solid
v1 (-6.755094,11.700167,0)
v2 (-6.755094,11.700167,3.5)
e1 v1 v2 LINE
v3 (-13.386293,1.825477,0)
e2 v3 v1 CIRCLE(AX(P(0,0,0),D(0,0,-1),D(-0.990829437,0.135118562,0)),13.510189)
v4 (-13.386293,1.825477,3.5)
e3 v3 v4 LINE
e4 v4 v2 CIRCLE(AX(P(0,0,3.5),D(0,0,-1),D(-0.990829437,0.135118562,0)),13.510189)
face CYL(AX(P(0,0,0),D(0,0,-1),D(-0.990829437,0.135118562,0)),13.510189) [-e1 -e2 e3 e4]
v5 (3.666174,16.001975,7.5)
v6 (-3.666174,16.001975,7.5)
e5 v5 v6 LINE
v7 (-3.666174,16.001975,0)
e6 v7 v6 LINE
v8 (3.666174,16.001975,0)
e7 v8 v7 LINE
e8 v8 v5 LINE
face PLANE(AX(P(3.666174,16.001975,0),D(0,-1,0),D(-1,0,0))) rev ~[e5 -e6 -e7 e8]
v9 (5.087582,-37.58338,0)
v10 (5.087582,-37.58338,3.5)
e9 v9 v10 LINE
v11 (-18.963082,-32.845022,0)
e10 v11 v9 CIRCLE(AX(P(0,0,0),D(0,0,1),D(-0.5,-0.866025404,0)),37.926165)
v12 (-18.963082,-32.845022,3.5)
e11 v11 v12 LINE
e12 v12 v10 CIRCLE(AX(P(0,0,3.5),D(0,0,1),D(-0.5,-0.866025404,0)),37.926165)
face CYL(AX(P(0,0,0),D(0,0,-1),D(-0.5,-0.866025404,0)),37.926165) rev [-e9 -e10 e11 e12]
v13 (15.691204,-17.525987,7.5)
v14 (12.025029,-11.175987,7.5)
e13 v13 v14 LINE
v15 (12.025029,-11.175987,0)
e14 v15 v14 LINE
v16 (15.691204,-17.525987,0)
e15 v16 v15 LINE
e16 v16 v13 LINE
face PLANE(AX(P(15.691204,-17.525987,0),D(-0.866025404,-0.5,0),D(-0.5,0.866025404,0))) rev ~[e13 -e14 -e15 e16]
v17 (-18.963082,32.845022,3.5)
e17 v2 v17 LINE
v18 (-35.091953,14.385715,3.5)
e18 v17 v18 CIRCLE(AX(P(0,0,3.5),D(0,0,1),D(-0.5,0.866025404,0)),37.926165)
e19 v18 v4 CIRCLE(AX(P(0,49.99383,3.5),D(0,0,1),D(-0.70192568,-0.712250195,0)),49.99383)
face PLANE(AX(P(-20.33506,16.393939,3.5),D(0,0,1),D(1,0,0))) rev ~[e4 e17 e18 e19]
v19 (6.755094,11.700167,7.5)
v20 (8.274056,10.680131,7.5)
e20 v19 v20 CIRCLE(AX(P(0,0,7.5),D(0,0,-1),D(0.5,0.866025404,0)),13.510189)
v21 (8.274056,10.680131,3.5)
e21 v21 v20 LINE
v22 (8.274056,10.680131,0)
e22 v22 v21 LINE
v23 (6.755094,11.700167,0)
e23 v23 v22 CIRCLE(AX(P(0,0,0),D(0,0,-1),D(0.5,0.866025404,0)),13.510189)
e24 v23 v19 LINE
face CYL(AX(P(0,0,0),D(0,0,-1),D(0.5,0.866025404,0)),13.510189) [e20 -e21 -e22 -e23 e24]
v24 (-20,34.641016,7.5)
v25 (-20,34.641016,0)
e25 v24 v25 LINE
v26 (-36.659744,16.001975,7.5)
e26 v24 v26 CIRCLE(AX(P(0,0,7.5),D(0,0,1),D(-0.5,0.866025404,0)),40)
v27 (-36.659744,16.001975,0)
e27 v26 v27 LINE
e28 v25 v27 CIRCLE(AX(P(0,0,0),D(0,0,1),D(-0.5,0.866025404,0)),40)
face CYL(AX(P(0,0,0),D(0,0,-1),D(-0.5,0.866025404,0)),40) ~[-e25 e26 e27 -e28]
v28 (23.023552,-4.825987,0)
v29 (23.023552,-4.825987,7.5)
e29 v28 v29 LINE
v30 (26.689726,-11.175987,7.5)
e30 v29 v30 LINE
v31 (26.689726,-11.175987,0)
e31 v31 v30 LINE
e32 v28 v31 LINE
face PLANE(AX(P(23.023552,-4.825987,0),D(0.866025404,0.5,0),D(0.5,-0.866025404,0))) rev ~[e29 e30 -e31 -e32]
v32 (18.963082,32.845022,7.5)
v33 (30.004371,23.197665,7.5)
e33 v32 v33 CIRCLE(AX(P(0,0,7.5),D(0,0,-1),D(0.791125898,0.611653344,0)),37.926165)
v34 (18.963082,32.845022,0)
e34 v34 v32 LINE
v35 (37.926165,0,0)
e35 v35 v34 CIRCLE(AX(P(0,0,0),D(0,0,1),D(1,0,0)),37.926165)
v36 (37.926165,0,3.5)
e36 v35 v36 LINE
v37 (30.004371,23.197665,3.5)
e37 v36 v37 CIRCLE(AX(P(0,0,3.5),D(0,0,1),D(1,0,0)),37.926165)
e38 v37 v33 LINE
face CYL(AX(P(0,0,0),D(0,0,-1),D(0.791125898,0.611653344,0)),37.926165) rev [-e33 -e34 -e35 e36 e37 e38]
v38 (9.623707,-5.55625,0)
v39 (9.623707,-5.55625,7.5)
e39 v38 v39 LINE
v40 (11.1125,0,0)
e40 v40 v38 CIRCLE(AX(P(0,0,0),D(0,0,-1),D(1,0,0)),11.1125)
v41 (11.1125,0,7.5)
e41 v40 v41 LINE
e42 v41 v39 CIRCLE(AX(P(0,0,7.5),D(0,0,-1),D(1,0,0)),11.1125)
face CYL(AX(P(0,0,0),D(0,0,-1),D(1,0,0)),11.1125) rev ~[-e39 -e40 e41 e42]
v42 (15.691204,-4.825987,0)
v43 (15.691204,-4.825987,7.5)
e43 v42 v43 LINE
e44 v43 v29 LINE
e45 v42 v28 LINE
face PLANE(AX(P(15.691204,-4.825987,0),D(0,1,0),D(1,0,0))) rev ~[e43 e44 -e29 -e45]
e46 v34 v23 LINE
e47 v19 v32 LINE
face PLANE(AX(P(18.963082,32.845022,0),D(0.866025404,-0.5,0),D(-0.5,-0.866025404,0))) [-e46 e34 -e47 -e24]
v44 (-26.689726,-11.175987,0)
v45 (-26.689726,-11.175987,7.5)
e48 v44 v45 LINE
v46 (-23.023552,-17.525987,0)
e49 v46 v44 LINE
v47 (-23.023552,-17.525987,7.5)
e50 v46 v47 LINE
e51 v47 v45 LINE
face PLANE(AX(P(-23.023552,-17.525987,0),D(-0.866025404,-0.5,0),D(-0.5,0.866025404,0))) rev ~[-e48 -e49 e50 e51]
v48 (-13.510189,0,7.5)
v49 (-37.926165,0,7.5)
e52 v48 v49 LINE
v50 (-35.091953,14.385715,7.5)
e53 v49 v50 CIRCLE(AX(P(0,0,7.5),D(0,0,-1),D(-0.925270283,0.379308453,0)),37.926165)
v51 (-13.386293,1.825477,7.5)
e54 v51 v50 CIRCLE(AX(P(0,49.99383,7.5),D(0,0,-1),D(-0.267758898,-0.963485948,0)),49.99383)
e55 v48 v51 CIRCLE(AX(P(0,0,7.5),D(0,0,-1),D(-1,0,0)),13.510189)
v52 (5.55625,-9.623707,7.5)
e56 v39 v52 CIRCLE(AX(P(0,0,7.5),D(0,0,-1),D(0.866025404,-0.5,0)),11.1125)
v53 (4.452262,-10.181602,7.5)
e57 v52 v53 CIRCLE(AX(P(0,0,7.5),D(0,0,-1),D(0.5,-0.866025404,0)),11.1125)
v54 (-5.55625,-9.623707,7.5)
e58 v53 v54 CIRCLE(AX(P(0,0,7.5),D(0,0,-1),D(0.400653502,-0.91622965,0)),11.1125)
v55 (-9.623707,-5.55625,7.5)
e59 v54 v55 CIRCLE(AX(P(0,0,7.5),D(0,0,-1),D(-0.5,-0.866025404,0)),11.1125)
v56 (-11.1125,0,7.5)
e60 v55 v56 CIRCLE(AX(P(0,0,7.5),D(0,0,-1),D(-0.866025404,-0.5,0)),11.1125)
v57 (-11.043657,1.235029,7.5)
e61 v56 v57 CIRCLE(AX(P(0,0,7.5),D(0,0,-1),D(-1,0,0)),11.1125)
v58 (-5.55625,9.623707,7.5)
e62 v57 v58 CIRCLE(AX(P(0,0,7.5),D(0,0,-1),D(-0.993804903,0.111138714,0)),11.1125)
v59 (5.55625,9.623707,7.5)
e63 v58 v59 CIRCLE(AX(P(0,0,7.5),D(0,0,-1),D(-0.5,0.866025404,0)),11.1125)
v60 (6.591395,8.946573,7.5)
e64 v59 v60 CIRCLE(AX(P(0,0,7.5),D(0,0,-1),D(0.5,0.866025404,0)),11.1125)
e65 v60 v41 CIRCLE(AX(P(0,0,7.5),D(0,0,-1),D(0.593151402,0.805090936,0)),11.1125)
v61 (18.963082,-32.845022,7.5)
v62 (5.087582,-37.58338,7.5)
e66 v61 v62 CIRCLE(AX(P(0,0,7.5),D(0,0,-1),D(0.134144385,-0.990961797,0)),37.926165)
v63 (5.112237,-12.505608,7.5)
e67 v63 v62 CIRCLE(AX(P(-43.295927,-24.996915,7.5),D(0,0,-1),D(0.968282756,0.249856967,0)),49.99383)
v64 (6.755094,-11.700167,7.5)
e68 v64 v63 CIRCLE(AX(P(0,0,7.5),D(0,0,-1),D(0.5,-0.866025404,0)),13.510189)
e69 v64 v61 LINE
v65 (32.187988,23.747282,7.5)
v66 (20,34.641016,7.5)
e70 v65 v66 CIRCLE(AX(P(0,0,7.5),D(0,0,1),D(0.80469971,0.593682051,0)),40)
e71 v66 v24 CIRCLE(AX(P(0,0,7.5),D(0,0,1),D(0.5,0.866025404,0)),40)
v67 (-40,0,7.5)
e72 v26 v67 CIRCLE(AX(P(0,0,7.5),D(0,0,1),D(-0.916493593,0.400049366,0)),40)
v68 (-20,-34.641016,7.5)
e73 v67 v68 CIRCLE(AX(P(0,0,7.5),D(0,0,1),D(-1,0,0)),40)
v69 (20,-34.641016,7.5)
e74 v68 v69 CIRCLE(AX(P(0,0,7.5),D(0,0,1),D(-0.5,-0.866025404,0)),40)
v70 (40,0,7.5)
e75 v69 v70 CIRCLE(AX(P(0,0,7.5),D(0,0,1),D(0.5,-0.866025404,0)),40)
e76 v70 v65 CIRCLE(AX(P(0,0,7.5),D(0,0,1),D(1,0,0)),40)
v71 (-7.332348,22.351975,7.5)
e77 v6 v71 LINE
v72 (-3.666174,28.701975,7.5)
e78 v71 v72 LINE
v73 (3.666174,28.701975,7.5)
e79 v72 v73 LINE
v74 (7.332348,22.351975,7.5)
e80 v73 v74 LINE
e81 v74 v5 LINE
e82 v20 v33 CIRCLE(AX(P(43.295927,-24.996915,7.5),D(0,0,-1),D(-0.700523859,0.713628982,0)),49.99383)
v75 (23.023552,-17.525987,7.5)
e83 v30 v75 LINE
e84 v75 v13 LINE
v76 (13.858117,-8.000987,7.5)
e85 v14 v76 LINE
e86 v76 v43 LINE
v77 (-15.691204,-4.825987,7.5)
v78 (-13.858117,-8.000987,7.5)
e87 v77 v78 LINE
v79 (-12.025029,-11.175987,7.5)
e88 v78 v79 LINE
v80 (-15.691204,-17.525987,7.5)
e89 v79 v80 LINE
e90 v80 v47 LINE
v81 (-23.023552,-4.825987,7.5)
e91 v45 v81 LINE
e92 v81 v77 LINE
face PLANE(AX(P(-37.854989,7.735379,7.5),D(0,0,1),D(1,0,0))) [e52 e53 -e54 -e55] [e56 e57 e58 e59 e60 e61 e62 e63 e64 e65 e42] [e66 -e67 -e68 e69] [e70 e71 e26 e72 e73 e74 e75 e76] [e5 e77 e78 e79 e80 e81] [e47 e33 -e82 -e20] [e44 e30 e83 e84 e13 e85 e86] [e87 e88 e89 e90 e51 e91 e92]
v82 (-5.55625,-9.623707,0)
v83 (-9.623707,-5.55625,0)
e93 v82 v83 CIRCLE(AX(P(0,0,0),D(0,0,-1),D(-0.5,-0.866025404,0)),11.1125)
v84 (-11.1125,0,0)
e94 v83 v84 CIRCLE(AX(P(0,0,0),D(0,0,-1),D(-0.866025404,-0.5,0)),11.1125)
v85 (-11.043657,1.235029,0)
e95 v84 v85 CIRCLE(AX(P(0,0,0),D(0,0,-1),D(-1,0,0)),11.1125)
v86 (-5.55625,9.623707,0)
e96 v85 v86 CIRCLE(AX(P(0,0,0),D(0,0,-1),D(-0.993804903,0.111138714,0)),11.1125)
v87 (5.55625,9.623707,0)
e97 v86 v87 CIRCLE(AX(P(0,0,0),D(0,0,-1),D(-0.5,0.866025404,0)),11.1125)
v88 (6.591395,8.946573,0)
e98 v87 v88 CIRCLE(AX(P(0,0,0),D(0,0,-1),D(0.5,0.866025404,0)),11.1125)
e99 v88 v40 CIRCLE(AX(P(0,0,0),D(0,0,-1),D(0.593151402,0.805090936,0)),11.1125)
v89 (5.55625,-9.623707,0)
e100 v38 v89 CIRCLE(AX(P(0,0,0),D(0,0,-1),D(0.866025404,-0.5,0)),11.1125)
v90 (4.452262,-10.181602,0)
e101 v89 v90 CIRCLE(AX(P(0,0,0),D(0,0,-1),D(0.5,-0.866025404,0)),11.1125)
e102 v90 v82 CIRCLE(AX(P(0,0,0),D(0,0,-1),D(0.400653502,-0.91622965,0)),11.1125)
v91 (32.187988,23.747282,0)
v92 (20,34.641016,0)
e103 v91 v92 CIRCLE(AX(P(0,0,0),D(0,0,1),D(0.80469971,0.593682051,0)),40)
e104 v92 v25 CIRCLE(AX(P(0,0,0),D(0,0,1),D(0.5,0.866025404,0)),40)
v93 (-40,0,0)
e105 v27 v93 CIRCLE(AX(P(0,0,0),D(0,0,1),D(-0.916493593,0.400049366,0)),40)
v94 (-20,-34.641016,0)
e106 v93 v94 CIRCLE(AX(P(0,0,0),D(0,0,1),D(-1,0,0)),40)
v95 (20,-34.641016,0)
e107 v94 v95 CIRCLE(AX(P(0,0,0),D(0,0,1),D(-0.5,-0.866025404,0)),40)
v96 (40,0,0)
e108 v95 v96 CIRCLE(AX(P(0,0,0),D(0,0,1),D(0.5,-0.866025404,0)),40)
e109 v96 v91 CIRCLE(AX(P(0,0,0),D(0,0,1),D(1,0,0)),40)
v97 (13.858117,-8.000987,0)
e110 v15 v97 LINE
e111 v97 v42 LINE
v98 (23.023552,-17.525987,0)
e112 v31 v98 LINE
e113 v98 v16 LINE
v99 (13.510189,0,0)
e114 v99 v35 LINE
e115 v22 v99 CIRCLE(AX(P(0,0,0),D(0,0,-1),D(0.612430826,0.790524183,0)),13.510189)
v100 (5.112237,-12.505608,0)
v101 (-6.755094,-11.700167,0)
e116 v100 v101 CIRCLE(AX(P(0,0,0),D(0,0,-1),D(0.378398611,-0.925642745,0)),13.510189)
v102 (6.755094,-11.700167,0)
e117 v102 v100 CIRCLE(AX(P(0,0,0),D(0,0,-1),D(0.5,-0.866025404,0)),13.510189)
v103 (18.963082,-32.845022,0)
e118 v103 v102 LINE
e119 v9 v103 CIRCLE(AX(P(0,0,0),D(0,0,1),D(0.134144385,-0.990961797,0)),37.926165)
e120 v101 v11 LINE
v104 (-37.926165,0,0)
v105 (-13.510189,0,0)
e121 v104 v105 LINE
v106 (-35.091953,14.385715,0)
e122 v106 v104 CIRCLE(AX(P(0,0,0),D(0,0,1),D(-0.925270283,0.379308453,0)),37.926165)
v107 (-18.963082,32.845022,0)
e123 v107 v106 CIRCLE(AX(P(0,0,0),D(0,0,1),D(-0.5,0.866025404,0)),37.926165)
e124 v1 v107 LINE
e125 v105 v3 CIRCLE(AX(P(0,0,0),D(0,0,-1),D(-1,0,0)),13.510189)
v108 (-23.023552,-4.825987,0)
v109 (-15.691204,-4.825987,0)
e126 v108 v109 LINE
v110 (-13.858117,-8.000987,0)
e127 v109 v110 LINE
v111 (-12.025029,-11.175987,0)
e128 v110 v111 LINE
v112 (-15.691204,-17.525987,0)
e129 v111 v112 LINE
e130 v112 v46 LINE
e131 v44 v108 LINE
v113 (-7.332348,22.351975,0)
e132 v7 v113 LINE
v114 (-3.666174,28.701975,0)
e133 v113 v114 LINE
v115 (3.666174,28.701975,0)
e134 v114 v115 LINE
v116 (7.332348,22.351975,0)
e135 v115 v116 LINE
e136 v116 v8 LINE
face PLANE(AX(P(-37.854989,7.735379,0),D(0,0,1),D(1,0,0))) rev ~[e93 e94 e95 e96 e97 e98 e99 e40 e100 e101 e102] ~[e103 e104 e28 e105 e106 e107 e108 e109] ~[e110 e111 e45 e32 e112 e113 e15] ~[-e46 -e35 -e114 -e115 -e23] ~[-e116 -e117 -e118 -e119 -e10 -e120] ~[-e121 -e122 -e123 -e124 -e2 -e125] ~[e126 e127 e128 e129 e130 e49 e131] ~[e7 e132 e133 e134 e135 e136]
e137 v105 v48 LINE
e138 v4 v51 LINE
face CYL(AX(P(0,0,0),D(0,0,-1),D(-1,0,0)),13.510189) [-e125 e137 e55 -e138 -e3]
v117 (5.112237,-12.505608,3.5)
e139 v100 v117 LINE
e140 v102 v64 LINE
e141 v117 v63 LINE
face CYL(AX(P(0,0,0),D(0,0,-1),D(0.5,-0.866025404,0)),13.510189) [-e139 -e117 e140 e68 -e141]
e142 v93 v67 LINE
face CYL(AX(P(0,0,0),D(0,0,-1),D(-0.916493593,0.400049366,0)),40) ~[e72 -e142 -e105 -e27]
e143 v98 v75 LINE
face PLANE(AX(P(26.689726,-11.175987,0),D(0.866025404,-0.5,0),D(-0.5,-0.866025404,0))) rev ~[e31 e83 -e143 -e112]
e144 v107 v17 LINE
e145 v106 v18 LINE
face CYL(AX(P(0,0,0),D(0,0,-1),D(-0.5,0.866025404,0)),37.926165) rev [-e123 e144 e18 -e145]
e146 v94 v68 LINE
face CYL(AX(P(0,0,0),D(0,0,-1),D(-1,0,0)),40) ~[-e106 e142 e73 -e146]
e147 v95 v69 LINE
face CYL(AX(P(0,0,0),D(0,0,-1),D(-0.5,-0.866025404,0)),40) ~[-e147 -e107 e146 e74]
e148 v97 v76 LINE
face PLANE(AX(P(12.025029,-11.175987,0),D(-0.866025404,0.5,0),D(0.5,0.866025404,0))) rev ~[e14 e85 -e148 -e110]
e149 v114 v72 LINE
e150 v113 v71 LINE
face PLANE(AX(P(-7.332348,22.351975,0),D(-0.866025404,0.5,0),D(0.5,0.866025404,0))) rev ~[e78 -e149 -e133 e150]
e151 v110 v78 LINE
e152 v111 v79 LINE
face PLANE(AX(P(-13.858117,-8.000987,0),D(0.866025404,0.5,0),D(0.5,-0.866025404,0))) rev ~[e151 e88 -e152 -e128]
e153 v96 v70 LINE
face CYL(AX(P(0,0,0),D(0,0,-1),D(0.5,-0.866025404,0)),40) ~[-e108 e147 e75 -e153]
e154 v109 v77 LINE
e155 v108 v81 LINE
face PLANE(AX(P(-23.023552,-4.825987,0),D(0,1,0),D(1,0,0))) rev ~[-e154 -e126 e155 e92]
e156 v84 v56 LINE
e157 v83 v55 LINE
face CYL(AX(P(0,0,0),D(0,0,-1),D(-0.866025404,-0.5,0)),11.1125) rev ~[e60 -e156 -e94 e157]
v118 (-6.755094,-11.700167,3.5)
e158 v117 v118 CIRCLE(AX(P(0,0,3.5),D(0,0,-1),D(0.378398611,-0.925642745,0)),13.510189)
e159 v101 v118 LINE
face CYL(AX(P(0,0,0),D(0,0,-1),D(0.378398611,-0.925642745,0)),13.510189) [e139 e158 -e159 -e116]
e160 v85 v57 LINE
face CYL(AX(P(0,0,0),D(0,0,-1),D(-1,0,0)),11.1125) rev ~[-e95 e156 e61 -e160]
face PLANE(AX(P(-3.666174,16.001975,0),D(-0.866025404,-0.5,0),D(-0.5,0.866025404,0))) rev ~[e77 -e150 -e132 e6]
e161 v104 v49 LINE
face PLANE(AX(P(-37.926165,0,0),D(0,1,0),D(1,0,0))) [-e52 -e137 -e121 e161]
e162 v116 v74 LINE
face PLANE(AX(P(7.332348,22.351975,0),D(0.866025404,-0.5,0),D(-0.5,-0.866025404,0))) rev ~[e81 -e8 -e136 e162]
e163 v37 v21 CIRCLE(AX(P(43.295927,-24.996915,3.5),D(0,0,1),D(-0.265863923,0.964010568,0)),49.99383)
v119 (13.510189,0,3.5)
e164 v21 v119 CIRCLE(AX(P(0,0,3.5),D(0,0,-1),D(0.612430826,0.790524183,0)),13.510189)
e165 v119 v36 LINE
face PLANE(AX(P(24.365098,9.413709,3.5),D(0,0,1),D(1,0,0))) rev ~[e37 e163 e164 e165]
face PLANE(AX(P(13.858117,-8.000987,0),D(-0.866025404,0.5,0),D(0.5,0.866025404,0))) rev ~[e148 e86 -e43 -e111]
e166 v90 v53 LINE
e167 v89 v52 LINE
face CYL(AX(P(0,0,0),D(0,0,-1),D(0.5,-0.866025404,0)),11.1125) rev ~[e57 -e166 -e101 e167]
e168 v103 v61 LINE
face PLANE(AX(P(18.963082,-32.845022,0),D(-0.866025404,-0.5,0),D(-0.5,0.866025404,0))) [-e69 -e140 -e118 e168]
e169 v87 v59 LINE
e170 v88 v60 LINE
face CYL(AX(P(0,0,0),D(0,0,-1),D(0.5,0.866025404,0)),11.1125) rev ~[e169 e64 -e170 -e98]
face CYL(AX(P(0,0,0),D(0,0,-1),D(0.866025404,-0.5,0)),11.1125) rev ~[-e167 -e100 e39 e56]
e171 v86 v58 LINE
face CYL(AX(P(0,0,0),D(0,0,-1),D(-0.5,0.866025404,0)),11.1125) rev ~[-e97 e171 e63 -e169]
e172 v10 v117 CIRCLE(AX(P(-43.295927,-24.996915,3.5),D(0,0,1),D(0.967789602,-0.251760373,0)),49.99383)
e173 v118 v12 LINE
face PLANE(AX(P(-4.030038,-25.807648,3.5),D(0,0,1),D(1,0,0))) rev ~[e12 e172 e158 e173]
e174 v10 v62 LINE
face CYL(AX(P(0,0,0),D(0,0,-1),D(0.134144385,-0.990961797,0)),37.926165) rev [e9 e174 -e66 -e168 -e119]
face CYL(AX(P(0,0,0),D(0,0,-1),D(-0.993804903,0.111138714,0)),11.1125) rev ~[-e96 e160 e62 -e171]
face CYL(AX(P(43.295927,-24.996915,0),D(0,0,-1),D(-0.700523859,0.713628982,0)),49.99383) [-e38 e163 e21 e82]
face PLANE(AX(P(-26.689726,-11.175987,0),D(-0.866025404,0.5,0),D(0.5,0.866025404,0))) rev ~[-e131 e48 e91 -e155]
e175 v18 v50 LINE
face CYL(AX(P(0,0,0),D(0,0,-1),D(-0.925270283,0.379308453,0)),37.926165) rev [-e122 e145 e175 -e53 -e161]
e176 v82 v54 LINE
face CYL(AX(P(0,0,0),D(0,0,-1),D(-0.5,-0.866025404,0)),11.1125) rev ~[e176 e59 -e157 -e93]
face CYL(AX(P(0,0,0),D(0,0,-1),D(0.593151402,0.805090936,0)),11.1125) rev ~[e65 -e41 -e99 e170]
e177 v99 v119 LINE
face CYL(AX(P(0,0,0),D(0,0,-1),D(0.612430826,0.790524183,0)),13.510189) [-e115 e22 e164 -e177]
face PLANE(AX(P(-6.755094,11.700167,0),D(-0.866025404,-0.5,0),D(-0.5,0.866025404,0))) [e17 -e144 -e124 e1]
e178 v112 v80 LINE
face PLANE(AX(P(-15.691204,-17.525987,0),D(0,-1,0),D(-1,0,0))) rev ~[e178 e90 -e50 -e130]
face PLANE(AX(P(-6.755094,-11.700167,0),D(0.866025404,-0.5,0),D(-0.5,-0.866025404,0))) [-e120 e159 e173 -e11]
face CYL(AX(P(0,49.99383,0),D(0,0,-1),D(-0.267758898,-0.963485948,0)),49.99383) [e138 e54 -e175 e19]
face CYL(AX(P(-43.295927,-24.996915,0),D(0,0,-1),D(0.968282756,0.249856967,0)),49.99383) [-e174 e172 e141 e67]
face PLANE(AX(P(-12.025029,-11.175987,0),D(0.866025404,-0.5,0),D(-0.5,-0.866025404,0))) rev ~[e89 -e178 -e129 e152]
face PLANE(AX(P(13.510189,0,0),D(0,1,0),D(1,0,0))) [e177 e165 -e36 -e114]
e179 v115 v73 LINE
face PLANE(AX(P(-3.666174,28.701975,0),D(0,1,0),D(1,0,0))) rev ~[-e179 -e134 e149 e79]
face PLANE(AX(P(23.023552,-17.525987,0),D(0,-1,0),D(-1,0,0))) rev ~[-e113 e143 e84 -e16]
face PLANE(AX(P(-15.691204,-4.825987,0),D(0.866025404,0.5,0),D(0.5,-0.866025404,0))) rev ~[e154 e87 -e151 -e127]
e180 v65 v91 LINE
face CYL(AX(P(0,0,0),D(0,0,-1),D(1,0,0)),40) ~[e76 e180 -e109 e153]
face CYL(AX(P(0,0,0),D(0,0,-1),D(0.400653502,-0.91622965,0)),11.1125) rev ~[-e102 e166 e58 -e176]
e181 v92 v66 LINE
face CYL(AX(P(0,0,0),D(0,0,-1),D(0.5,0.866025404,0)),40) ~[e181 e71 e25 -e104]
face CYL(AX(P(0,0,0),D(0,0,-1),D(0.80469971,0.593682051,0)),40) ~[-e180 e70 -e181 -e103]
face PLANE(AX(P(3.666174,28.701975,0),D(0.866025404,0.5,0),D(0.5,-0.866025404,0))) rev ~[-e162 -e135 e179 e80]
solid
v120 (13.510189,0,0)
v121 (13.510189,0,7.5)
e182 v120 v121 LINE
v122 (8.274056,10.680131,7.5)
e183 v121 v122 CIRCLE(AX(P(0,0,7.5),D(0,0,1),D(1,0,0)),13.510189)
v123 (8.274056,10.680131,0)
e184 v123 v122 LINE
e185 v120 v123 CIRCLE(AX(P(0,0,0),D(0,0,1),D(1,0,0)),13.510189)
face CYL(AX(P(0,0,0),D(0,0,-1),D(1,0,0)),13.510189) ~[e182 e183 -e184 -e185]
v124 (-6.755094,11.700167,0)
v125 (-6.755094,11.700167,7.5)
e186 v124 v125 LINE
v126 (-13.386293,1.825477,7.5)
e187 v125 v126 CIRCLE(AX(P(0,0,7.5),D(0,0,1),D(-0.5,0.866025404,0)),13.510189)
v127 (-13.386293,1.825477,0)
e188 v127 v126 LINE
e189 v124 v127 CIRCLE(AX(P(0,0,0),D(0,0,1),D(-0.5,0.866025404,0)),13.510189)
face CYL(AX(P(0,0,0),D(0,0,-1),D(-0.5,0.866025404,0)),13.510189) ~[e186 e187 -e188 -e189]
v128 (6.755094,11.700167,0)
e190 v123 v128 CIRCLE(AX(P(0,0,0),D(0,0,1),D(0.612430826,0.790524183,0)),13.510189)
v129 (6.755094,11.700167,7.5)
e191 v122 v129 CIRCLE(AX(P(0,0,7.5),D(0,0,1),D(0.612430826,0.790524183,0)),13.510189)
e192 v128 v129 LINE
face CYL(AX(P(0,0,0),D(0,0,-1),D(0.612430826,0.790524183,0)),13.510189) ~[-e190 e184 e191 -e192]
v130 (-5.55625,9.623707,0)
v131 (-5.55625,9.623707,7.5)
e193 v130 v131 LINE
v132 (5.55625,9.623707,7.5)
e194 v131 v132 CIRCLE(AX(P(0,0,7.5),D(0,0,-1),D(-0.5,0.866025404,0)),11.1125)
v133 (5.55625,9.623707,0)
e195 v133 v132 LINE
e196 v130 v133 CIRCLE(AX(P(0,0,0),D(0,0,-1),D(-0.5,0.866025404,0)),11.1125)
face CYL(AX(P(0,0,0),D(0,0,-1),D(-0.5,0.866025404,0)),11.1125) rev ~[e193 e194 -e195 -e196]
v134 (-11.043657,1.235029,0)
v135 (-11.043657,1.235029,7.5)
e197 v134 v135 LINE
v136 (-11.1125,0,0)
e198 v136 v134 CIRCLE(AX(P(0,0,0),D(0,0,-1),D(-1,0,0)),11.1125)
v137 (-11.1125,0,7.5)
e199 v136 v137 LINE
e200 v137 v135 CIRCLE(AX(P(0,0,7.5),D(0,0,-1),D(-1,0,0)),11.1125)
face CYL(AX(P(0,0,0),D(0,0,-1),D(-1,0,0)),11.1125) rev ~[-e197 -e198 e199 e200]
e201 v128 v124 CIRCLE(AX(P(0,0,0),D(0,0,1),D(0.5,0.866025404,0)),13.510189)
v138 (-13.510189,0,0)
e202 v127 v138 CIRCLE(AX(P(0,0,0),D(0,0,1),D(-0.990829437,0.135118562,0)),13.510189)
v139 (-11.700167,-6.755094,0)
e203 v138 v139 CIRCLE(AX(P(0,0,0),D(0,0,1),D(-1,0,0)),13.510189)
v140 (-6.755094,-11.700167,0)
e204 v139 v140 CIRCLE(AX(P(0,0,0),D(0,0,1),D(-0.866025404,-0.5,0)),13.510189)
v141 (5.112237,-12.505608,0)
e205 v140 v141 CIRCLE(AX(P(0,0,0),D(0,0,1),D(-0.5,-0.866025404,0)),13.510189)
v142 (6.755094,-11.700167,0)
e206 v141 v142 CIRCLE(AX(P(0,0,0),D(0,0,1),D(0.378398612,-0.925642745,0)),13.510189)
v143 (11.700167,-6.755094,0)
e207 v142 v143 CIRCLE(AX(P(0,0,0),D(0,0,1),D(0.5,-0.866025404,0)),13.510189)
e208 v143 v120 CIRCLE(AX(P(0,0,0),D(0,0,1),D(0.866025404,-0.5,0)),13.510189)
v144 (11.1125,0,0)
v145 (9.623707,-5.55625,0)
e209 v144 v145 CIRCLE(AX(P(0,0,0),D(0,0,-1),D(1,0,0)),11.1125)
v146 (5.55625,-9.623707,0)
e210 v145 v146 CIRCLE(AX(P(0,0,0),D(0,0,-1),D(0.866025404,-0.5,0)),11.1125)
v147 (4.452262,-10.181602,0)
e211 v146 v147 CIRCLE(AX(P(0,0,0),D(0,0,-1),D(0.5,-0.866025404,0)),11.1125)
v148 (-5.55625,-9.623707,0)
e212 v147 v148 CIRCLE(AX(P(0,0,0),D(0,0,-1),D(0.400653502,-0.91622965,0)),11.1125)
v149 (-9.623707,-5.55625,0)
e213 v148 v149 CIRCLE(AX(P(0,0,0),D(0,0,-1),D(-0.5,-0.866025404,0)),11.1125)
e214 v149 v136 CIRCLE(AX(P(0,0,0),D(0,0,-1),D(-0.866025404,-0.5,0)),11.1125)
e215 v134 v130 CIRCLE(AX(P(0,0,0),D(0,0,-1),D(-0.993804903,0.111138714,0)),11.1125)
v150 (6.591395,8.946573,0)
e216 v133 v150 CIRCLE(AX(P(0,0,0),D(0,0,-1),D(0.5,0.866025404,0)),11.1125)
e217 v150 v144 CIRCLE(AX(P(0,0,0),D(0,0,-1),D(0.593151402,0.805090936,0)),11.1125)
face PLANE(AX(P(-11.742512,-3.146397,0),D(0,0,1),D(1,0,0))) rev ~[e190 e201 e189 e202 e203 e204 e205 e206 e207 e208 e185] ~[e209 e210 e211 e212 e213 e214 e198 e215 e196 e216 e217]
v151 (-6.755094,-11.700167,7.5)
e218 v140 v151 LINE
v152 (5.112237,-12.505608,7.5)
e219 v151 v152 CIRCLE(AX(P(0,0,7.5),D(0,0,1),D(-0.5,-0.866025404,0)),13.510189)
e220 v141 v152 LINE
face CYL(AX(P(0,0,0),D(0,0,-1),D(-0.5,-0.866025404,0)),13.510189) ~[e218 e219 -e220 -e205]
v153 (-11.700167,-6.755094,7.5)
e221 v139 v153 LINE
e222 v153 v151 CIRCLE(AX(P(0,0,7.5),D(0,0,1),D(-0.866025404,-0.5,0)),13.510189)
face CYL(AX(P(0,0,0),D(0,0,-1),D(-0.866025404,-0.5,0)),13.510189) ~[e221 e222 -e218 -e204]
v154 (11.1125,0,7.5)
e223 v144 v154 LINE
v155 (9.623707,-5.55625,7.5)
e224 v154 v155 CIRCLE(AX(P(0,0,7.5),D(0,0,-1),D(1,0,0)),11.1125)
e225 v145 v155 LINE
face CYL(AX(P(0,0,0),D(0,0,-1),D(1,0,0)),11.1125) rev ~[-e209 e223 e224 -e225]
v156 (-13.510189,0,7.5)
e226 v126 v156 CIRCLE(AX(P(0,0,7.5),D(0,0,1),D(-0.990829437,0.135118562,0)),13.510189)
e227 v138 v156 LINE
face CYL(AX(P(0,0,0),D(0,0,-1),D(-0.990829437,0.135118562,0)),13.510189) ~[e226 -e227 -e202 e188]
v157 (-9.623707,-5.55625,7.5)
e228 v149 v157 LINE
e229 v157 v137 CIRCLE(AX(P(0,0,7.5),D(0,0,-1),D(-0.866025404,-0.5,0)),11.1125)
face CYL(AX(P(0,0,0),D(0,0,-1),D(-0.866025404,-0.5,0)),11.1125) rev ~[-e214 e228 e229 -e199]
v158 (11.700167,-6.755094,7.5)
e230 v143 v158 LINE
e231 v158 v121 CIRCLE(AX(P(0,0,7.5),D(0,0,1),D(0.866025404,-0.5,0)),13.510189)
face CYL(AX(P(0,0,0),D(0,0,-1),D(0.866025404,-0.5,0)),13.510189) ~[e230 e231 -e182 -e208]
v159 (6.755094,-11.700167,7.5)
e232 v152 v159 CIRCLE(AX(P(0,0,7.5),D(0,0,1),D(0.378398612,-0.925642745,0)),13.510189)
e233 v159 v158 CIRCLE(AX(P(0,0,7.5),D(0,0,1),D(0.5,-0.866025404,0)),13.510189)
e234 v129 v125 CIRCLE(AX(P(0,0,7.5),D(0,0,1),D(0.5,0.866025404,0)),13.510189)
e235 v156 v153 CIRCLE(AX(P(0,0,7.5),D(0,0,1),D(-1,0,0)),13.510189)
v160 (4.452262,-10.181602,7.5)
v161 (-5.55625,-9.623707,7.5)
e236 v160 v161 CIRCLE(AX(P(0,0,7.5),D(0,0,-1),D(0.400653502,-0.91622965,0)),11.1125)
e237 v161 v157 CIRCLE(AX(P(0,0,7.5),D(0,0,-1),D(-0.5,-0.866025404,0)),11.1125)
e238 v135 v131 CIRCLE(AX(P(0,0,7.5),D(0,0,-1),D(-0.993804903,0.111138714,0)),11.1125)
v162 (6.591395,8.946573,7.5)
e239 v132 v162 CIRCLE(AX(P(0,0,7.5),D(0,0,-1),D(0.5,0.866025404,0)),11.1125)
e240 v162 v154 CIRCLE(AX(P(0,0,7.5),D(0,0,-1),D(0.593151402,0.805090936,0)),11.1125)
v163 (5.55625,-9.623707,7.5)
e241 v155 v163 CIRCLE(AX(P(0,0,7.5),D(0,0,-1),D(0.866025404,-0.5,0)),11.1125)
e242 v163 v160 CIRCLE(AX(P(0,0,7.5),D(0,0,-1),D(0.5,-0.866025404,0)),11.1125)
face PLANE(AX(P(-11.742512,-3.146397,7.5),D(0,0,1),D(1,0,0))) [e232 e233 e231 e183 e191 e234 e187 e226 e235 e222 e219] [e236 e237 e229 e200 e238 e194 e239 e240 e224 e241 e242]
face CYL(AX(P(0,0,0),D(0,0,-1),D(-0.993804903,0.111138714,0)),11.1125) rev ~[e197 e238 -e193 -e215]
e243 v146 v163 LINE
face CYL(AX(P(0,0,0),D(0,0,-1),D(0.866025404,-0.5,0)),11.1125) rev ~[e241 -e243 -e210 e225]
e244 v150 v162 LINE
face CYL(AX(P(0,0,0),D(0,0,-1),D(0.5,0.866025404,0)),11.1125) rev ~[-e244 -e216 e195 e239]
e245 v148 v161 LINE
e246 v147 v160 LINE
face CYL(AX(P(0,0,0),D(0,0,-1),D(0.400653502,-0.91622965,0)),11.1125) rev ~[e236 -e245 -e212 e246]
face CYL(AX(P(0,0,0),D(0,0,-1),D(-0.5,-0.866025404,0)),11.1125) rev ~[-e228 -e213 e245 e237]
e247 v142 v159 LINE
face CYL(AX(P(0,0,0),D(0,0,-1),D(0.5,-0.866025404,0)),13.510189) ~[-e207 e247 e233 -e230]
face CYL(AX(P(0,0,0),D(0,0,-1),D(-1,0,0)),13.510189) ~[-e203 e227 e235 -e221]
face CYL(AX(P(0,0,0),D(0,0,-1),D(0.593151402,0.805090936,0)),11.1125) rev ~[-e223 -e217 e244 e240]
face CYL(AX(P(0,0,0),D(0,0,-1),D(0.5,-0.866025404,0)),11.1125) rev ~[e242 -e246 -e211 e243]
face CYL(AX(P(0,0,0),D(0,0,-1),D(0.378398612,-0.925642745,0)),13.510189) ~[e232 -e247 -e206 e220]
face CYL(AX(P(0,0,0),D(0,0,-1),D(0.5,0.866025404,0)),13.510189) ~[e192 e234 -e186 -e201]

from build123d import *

# Parameters (mm, degrees)
F1_DEPTH = 7.5
F2_DEPTH = 3.25
F3_DEPTH = 25
F4_DEPTH = 7.5
F5_DEPTH = 7.5
F6_DEPTH = 25
F7_DEPTH = 3.5


with BuildPart() as f1:
    # F0 (on Top) → F1 (new body)
    with BuildSketch(Plane.XY):
        with BuildLine():
            Line((37.9261646969, 0), (40, 0))
            ThreePointArc((40, 0), (37.9968389168, 12.4996092872), (32.1879883833, 23.7472820305))
            ThreePointArc((32.1879883833, 23.7472820305), (31.0930850061, 23.4847690882), (30.0043711026, 23.1976654721))
            ThreePointArc((30.0043711026, 23.1976654721), (35.8911179032, 12.2564931476), (37.9261646969, 0))
        make_face()
        with BuildLine():
            ThreePointArc((20, -34.6410161514), (34.6410161514, -20), (40, 0))
            Line((40, 0), (37.9261646969, 0))
            ThreePointArc((37.9261646969, 0), (32.8450220956, -18.9630823485), (18.9630823485, -32.8450220956))
            Line((18.9630823485, -32.8450220956), (20, -34.6410161514))
        make_face()
        with BuildLine():
            ThreePointArc((30.0043711026, 23.1976654721), (31.0930850061, 23.4847690882), (32.1879883833, 23.7472820305))
            ThreePointArc((32.1879883833, 23.7472820305), (26.6564231218, 29.8233986385), (20, 34.6410161514))
            Line((20, 34.6410161514), (18.9630823485, 32.8450220956))
            ThreePointArc((18.9630823485, 32.8450220956), (24.9543733006, 28.5599933787), (30.0043711026, 23.1976654721))
        make_face()
        with BuildLine():
            ThreePointArc((4.4717553176, -39.7492566519), (12.4996092872, -37.9968389168), (20, -34.6410161514))
            Line((20, -34.6410161514), (18.9630823485, -32.8450220956))
            ThreePointArc((18.9630823485, -32.8450220956), (12.2564931476, -35.8911179032), (5.087582056, -37.5833803355))
            ThreePointArc((5.087582056, -37.5833803355), (4.7918641293, -38.6697860415), (4.4717553176, -39.7492566519))
        make_face()
        with BuildLine():
            Line((18.9630823485, 32.8450220956), (20, 34.6410161514))
            ThreePointArc((20, 34.6410161514), (0, 40), (-20, 34.6410161514))
            Line((-20, 34.6410161514), (-18.9630823485, 32.8450220956))
            ThreePointArc((-18.9630823485, 32.8450220956), (0, 37.9261646969), (18.9630823485, 32.8450220956))
        make_face()
        with BuildLine():
            ThreePointArc((-20, -34.6410161514), (-8.1734402782, -39.156032409), (4.4717553176, -39.7492566519))
            ThreePointArc((4.4717553176, -39.7492566519), (4.7918641293, -38.6697860415), (5.087582056, -37.5833803355))
            ThreePointArc((5.087582056, -37.5833803355), (-7.3311245245, -37.2108664482), (-18.9630823485, -32.8450220956))
            Line((-18.9630823485, -32.8450220956), (-20, -34.6410161514))
        make_face()
        with BuildLine():
            Line((-18.9630823485, 32.8450220956), (-20, 34.6410161514))
            ThreePointArc((-20, 34.6410161514), (-29.8233986385, 26.6564231218), (-36.6597437009, 16.0019746214))
            ThreePointArc((-36.6597437009, 16.0019746214), (-35.8849491355, 15.1850169532), (-35.0919531586, 14.3857148634))
            ThreePointArc((-35.0919531586, 14.3857148634), (-28.5599933787, 24.9543733006), (-18.9630823485, 32.8450220956))
        make_face()
        with BuildLine():
            ThreePointArc((-40, 0), (-34.6410161514, -20), (-20, -34.6410161514))
            Line((-20, -34.6410161514), (-18.9630823485, -32.8450220956))
            ThreePointArc((-18.9630823485, -32.8450220956), (-32.8450220956, -18.9630823485), (-37.9261646969, 0))
            Line((-37.9261646969, 0), (-40, 0))
        make_face()
        with BuildLine():
            ThreePointArc((-35.0919531586, 14.3857148634), (-35.8849491355, 15.1850169532), (-36.6597437009, 16.0019746214))
            ThreePointArc((-36.6597437009, 16.0019746214), (-39.156032409, 8.1734402782), (-40, 0))
            Line((-40, 0), (-37.9261646969, 0))
            ThreePointArc((-37.9261646969, 0), (-37.2108664482, 7.3311245245), (-35.0919531586, 14.3857148634))
        make_face()
        with BuildLine():
            ThreePointArc((-37.9261646969, 0), (-32.8450220956, -18.9630823485), (-18.9630823485, -32.8450220956))
            Line((-18.9630823485, -32.8450220956), (-6.7550944326, -11.7001667673))
            ThreePointArc((-6.7550944326, -11.7001667673), (-9.5531461618, -9.5531461618), (-11.7001667673, -6.7550944326))
            ThreePointArc((-11.7001667673, -6.7550944326), (-13.049840343, -3.4966941813), (-13.5101888653, 0))
            Line((-13.5101888653, 0), (-37.9261646969, 0))
        make_face()
        Polygon((-15.6912036375, -4.8259873107), (-13.8581165329, -8.0009873107), (-12.0250294282, -11.1759873107), (-15.6912036375, -17.5259873107), (-23.0235520562, -17.5259873107), (-26.6897262656, -11.1759873107), (-23.0235520562, -4.8259873107), align=None, mode=Mode.SUBTRACT)
        with BuildLine():
            ThreePointArc((-18.9630823485, -32.8450220956), (-7.3311245245, -37.2108664482), (5.087582056, -37.5833803355))
            ThreePointArc((5.087582056, -37.5833803355), (6.6978790363, -25.0460653274), (5.112236707, -12.505608303))
            ThreePointArc((5.112236707, -12.505608303), (-0.9148384522, -13.4791792696), (-6.7550944326, -11.7001667673))
            Line((-6.7550944326, -11.7001667673), (-18.9630823485, -32.8450220956))
        make_face()
        with BuildLine():
            ThreePointArc((5.087582056, -37.5833803355), (12.2564931476, -35.8911179032), (18.9630823485, -32.8450220956))
            Line((18.9630823485, -32.8450220956), (6.7550944326, -11.7001667673))
            ThreePointArc((6.7550944326, -11.7001667673), (5.9473162949, -12.1307308957), (5.112236707, -12.505608303))
            ThreePointArc((5.112236707, -12.505608303), (6.6978790363, -25.0460653274), (5.087582056, -37.5833803355))
        make_face()
        with BuildLine():
            ThreePointArc((18.9630823485, -32.8450220956), (32.8450220956, -18.9630823485), (37.9261646969, 0))
            Line((37.9261646969, 0), (13.5101888653, 0))
            ThreePointArc((13.5101888653, 0), (13.049840343, -3.4966941813), (11.7001667673, -6.7550944326))
            ThreePointArc((11.7001667673, -6.7550944326), (9.5531461618, -9.5531461618), (6.7550944326, -11.7001667673))
            Line((6.7550944326, -11.7001667673), (18.9630823485, -32.8450220956))
        make_face()
        Polygon((12.0250294282, -11.1759873107), (13.8581165329, -8.0009873107), (15.6912036375, -4.8259873107), (23.0235520562, -4.8259873107), (26.6897262656, -11.1759873107), (23.0235520562, -17.5259873107), (15.6912036375, -17.5259873107), align=None, mode=Mode.SUBTRACT)
        with BuildLine():
            ThreePointArc((-11.7001667673, -6.7550944326), (-9.5531461618, -9.5531461618), (-6.7550944326, -11.7001667673))
            Line((-6.7550944326, -11.7001667673), (-5.55625, -9.6237072996))
            ThreePointArc((-5.55625, -9.6237072996), (-7.8577241059, -7.8577241059), (-9.6237072996, -5.55625))
            Line((-9.6237072996, -5.55625), (-11.7001667673, -6.7550944326))
        make_face()
        with BuildLine():
            ThreePointArc((-9.6237072996, -5.55625), (-10.7338507446, -2.8761266387), (-11.1125, 0))
            Line((-11.1125, 0), (-13.5101888653, 0))
            ThreePointArc((-13.5101888653, 0), (-13.049840343, -3.4966941813), (-11.7001667673, -6.7550944326))
            Line((-11.7001667673, -6.7550944326), (-9.6237072996, -5.55625))
        make_face()
        with BuildLine():
            Line((-5.55625, 9.6237072996), (-6.7550944326, 11.7001667673))
            ThreePointArc((-6.7550944326, 11.7001667673), (-11.2158924436, 7.5318629748), (-13.3862928336, 1.8254772931))
            ThreePointArc((-13.3862928336, 1.8254772931), (-12.2185420326, 1.5161003824), (-11.0436569899, 1.2350289634))
            ThreePointArc((-11.0436569899, 1.2350289634), (-9.2995542407, 6.0832513654), (-5.55625, 9.6237072996))
        make_face()
        with BuildLine():
            ThreePointArc((-13.3862928336, 1.8254772931), (-25.0394683565, 6.7224992667), (-35.0919531586, 14.3857148634))
            ThreePointArc((-35.0919531586, 14.3857148634), (-37.2108664482, 7.3311245245), (-37.9261646969, 0))
            Line((-37.9261646969, 0), (-13.5101888653, 0))
            ThreePointArc((-13.5101888653, 0), (-13.4791792696, 0.9148384522), (-13.3862928336, 1.8254772931))
        make_face()
        with BuildLine():
            Line((-6.7550944326, 11.7001667673), (-18.9630823485, 32.8450220956))
            ThreePointArc((-18.9630823485, 32.8450220956), (-28.5599933787, 24.9543733006), (-35.0919531586, 14.3857148634))
            ThreePointArc((-35.0919531586, 14.3857148634), (-25.0394683565, 6.7224992667), (-13.3862928336, 1.8254772931))
            ThreePointArc((-13.3862928336, 1.8254772931), (-11.2158924436, 7.5318629748), (-6.7550944326, 11.7001667673))
        make_face()
        with BuildLine():
            Line((6.7550944326, 11.7001667673), (18.9630823485, 32.8450220956))
            ThreePointArc((18.9630823485, 32.8450220956), (0, 37.9261646969), (-18.9630823485, 32.8450220956))
            Line((-18.9630823485, 32.8450220956), (-6.7550944326, 11.7001667673))
            ThreePointArc((-6.7550944326, 11.7001667673), (0, 13.5101888653), (6.7550944326, 11.7001667673))
        make_face()
        Polygon((7.3323484187, 22.3519746214), (3.6661742094, 16.0019746214), (-3.6661742094, 16.0019746214), (-7.3323484187, 22.3519746214), (-3.6661742094, 28.7019746214), (3.6661742094, 28.7019746214), align=None, mode=Mode.SUBTRACT)
        with BuildLine():
            Line((5.55625, 9.6237072996), (6.7550944326, 11.7001667673))
            ThreePointArc((6.7550944326, 11.7001667673), (0, 13.5101888653), (-6.7550944326, 11.7001667673))
            Line((-6.7550944326, 11.7001667673), (-5.55625, 9.6237072996))
            ThreePointArc((-5.55625, 9.6237072996), (0, 11.1125), (5.55625, 9.6237072996))
        make_face()
        with BuildLine():
            Line((-13.5101888653, 0), (-11.1125, 0))
            ThreePointArc((-11.1125, 0), (-11.095275899, 0.6184730997), (-11.0436569899, 1.2350289634))
            ThreePointArc((-11.0436569899, 1.2350289634), (-12.2185420326, 1.5161003824), (-13.3862928336, 1.8254772931))
            ThreePointArc((-13.3862928336, 1.8254772931), (-13.4791792696, 0.9148384522), (-13.5101888653, 0))
        make_face()
        with BuildLine():
            Line((11.1125, 0), (13.5101888653, 0))
            ThreePointArc((13.5101888653, 0), (12.1307308957, 5.9473162949), (8.2740561267, 10.6801310099))
            ThreePointArc((8.2740561267, 10.6801310099), (7.4222524621, 9.8235176062), (6.5913949516, 8.9465730222))
            ThreePointArc((6.5913949516, 8.9465730222), (9.9180273404, 5.0120245336), (11.1125, 0))
        make_face()
        with BuildLine():
            ThreePointArc((6.5913949516, 8.9465730222), (7.4222524621, 9.8235176062), (8.2740561267, 10.6801310099))
            ThreePointArc((8.2740561267, 10.6801310099), (7.5318629748, 11.2158924436), (6.7550944326, 11.7001667673))
            Line((6.7550944326, 11.7001667673), (5.55625, 9.6237072996))
            ThreePointArc((5.55625, 9.6237072996), (6.0832513654, 9.2995542407), (6.5913949516, 8.9465730222))
        make_face()
        with BuildLine():
            Line((5.55625, -9.6237072996), (6.7550944326, -11.7001667673))
            ThreePointArc((6.7550944326, -11.7001667673), (9.5531461618, -9.5531461618), (11.7001667673, -6.7550944326))
            Line((11.7001667673, -6.7550944326), (9.6237072996, -5.55625))
            ThreePointArc((9.6237072996, -5.55625), (7.8577241059, -7.8577241059), (5.55625, -9.6237072996))
        make_face()
        with BuildLine():
            ThreePointArc((11.7001667673, -6.7550944326), (13.049840343, -3.4966941813), (13.5101888653, 0))
            Line((13.5101888653, 0), (11.1125, 0))
            ThreePointArc((11.1125, 0), (10.7338507446, -2.8761266387), (9.6237072996, -5.55625))
            Line((9.6237072996, -5.55625), (11.7001667673, -6.7550944326))
        make_face()
        with BuildLine():
            ThreePointArc((5.112236707, -12.505608303), (5.9473162949, -12.1307308957), (6.7550944326, -11.7001667673))
            Line((6.7550944326, -11.7001667673), (5.55625, -9.6237072996))
            ThreePointArc((5.55625, -9.6237072996), (5.0120245336, -9.9180273404), (4.4522620383, -10.1816019856))
            ThreePointArc((4.4522620383, -10.1816019856), (4.7962895705, -11.3396179886), (5.112236707, -12.505608303))
        make_face()
        with BuildLine():
            ThreePointArc((-6.7550944326, -11.7001667673), (-0.9148384522, -13.4791792696), (5.112236707, -12.505608303))
            ThreePointArc((5.112236707, -12.505608303), (4.7962895705, -11.3396179886), (4.4522620383, -10.1816019856))
            ThreePointArc((4.4522620383, -10.1816019856), (-0.6184730997, -11.095275899), (-5.55625, -9.6237072996))
            Line((-5.55625, -9.6237072996), (-6.7550944326, -11.7001667673))
        make_face()
        with BuildLine():
            Line((13.5101888653, 0), (37.9261646969, 0))
            ThreePointArc((37.9261646969, 0), (35.8911179032, 12.2564931476), (30.0043711026, 23.1976654721))
            ThreePointArc((30.0043711026, 23.1976654721), (18.3415893202, 18.3235660606), (8.2740561267, 10.6801310099))
            ThreePointArc((8.2740561267, 10.6801310099), (12.1307308957, 5.9473162949), (13.5101888653, 0))
        make_face()
        with BuildLine():
            ThreePointArc((8.2740561267, 10.6801310099), (18.3415893202, 18.3235660606), (30.0043711026, 23.1976654721))
            ThreePointArc((30.0043711026, 23.1976654721), (24.9543733006, 28.5599933787), (18.9630823485, 32.8450220956))
            Line((18.9630823485, 32.8450220956), (6.7550944326, 11.7001667673))
            ThreePointArc((6.7550944326, 11.7001667673), (7.5318629748, 11.2158924436), (8.2740561267, 10.6801310099))
        make_face()
    extrude(amount=F1_DEPTH)

    # F0 (on Top) → F2 (cut)
    with BuildSketch(Plane.XY):
        with BuildLine():
            Line((-18.9630823485, 32.8450220956), (-20, 34.6410161514))
            ThreePointArc((-20, 34.6410161514), (-29.8233986385, 26.6564231218), (-36.6597437009, 16.0019746214))
            ThreePointArc((-36.6597437009, 16.0019746214), (-35.8849491355, 15.1850169532), (-35.0919531586, 14.3857148634))
            ThreePointArc((-35.0919531586, 14.3857148634), (-28.5599933787, 24.9543733006), (-18.9630823485, 32.8450220956))
        make_face()
        with BuildLine():
            ThreePointArc((-20, -34.6410161514), (-8.1734402782, -39.156032409), (4.4717553176, -39.7492566519))
            ThreePointArc((4.4717553176, -39.7492566519), (4.7918641293, -38.6697860415), (5.087582056, -37.5833803355))
            ThreePointArc((5.087582056, -37.5833803355), (-7.3311245245, -37.2108664482), (-18.9630823485, -32.8450220956))
            Line((-18.9630823485, -32.8450220956), (-20, -34.6410161514))
        make_face()
        with BuildLine():
            Line((37.9261646969, 0), (40, 0))
            ThreePointArc((40, 0), (37.9968389168, 12.4996092872), (32.1879883833, 23.7472820305))
            ThreePointArc((32.1879883833, 23.7472820305), (31.0930850061, 23.4847690882), (30.0043711026, 23.1976654721))
            ThreePointArc((30.0043711026, 23.1976654721), (35.8911179032, 12.2564931476), (37.9261646969, 0))
        make_face()
    extrude(amount=F2_DEPTH, mode=Mode.SUBTRACT)

    # F0 (on Top) → F3 (cut)
    with BuildSketch(Plane.XY):
        with BuildLine():
            ThreePointArc((-35.0919531586, 14.3857148634), (-35.8849491355, 15.1850169532), (-36.6597437009, 16.0019746214))
            ThreePointArc((-36.6597437009, 16.0019746214), (-39.156032409, 8.1734402782), (-40, 0))
            Line((-40, 0), (-37.9261646969, 0))
            ThreePointArc((-37.9261646969, 0), (-37.2108664482, 7.3311245245), (-35.0919531586, 14.3857148634))
        make_face()
        with BuildLine():
            ThreePointArc((30.0043711026, 23.1976654721), (31.0930850061, 23.4847690882), (32.1879883833, 23.7472820305))
            ThreePointArc((32.1879883833, 23.7472820305), (26.6564231218, 29.8233986385), (20, 34.6410161514))
            Line((20, 34.6410161514), (18.9630823485, 32.8450220956))
            ThreePointArc((18.9630823485, 32.8450220956), (24.9543733006, 28.5599933787), (30.0043711026, 23.1976654721))
        make_face()
        with BuildLine():
            ThreePointArc((4.4717553176, -39.7492566519), (12.4996092872, -37.9968389168), (20, -34.6410161514))
            Line((20, -34.6410161514), (18.9630823485, -32.8450220956))
            ThreePointArc((18.9630823485, -32.8450220956), (12.2564931476, -35.8911179032), (5.087582056, -37.5833803355))
            ThreePointArc((5.087582056, -37.5833803355), (4.7918641293, -38.6697860415), (4.4717553176, -39.7492566519))
        make_face()
    extrude(amount=F3_DEPTH, mode=Mode.SUBTRACT)

    # F0 (on Top) → F5 (join)
    with BuildSketch(Plane.XY):
        with BuildLine():
            ThreePointArc((-35.0919531586, 14.3857148634), (-35.8849491355, 15.1850169532), (-36.6597437009, 16.0019746214))
            ThreePointArc((-36.6597437009, 16.0019746214), (-39.156032409, 8.1734402782), (-40, 0))
            Line((-40, 0), (-37.9261646969, 0))
            ThreePointArc((-37.9261646969, 0), (-37.2108664482, 7.3311245245), (-35.0919531586, 14.3857148634))
        make_face()
        with BuildLine():
            Line((-18.9630823485, 32.8450220956), (-20, 34.6410161514))
            ThreePointArc((-20, 34.6410161514), (-29.8233986385, 26.6564231218), (-36.6597437009, 16.0019746214))
            ThreePointArc((-36.6597437009, 16.0019746214), (-35.8849491355, 15.1850169532), (-35.0919531586, 14.3857148634))
            ThreePointArc((-35.0919531586, 14.3857148634), (-28.5599933787, 24.9543733006), (-18.9630823485, 32.8450220956))
        make_face()
        with BuildLine():
            ThreePointArc((-40, 0), (-34.6410161514, -20), (-20, -34.6410161514))
            Line((-20, -34.6410161514), (-18.9630823485, -32.8450220956))
            ThreePointArc((-18.9630823485, -32.8450220956), (-32.8450220956, -18.9630823485), (-37.9261646969, 0))
            Line((-37.9261646969, 0), (-40, 0))
        make_face()
        with BuildLine():
            ThreePointArc((-20, -34.6410161514), (-8.1734402782, -39.156032409), (4.4717553176, -39.7492566519))
            ThreePointArc((4.4717553176, -39.7492566519), (4.7918641293, -38.6697860415), (5.087582056, -37.5833803355))
            ThreePointArc((5.087582056, -37.5833803355), (-7.3311245245, -37.2108664482), (-18.9630823485, -32.8450220956))
            Line((-18.9630823485, -32.8450220956), (-20, -34.6410161514))
        make_face()
        with BuildLine():
            ThreePointArc((4.4717553176, -39.7492566519), (12.4996092872, -37.9968389168), (20, -34.6410161514))
            Line((20, -34.6410161514), (18.9630823485, -32.8450220956))
            ThreePointArc((18.9630823485, -32.8450220956), (12.2564931476, -35.8911179032), (5.087582056, -37.5833803355))
            ThreePointArc((5.087582056, -37.5833803355), (4.7918641293, -38.6697860415), (4.4717553176, -39.7492566519))
        make_face()
        with BuildLine():
            ThreePointArc((20, -34.6410161514), (34.6410161514, -20), (40, 0))
            Line((40, 0), (37.9261646969, 0))
            ThreePointArc((37.9261646969, 0), (32.8450220956, -18.9630823485), (18.9630823485, -32.8450220956))
            Line((18.9630823485, -32.8450220956), (20, -34.6410161514))
        make_face()
        with BuildLine():
            Line((37.9261646969, 0), (40, 0))
            ThreePointArc((40, 0), (37.9968389168, 12.4996092872), (32.1879883833, 23.7472820305))
            ThreePointArc((32.1879883833, 23.7472820305), (31.0930850061, 23.4847690882), (30.0043711026, 23.1976654721))
            ThreePointArc((30.0043711026, 23.1976654721), (35.8911179032, 12.2564931476), (37.9261646969, 0))
        make_face()
        with BuildLine():
            ThreePointArc((30.0043711026, 23.1976654721), (31.0930850061, 23.4847690882), (32.1879883833, 23.7472820305))
            ThreePointArc((32.1879883833, 23.7472820305), (26.6564231218, 29.8233986385), (20, 34.6410161514))
            Line((20, 34.6410161514), (18.9630823485, 32.8450220956))
            ThreePointArc((18.9630823485, 32.8450220956), (24.9543733006, 28.5599933787), (30.0043711026, 23.1976654721))
        make_face()
        with BuildLine():
            Line((18.9630823485, 32.8450220956), (20, 34.6410161514))
            ThreePointArc((20, 34.6410161514), (0, 40), (-20, 34.6410161514))
            Line((-20, 34.6410161514), (-18.9630823485, 32.8450220956))
            ThreePointArc((-18.9630823485, 32.8450220956), (0, 37.9261646969), (18.9630823485, 32.8450220956))
        make_face()
    extrude(amount=F5_DEPTH)

    # F0 (on Top) → F6 (cut)
    with BuildSketch(Plane.XY):
        with BuildLine():
            ThreePointArc((5.087582056, -37.5833803355), (12.2564931476, -35.8911179032), (18.9630823485, -32.8450220956))
            Line((18.9630823485, -32.8450220956), (6.7550944326, -11.7001667673))
            ThreePointArc((6.7550944326, -11.7001667673), (5.9473162949, -12.1307308957), (5.112236707, -12.505608303))
            ThreePointArc((5.112236707, -12.505608303), (6.6978790363, -25.0460653274), (5.087582056, -37.5833803355))
        make_face()
        with BuildLine():
            ThreePointArc((-13.3862928336, 1.8254772931), (-25.0394683565, 6.7224992667), (-35.0919531586, 14.3857148634))
            ThreePointArc((-35.0919531586, 14.3857148634), (-37.2108664482, 7.3311245245), (-37.9261646969, 0))
            Line((-37.9261646969, 0), (-13.5101888653, 0))
            ThreePointArc((-13.5101888653, 0), (-13.4791792696, 0.9148384522), (-13.3862928336, 1.8254772931))
        make_face()
        with BuildLine():
            ThreePointArc((8.2740561267, 10.6801310099), (18.3415893202, 18.3235660606), (30.0043711026, 23.1976654721))
            ThreePointArc((30.0043711026, 23.1976654721), (24.9543733006, 28.5599933787), (18.9630823485, 32.8450220956))
            Line((18.9630823485, 32.8450220956), (6.7550944326, 11.7001667673))
            ThreePointArc((6.7550944326, 11.7001667673), (7.5318629748, 11.2158924436), (8.2740561267, 10.6801310099))
        make_face()
    extrude(amount=F6_DEPTH, mode=Mode.SUBTRACT)

    # F0 (on Top) → F7 (cut)
    with BuildSketch(Plane.XY):
        with BuildLine():
            Line((-6.7550944326, 11.7001667673), (-18.9630823485, 32.8450220956))
            ThreePointArc((-18.9630823485, 32.8450220956), (-28.5599933787, 24.9543733006), (-35.0919531586, 14.3857148634))
            ThreePointArc((-35.0919531586, 14.3857148634), (-25.0394683565, 6.7224992667), (-13.3862928336, 1.8254772931))
            ThreePointArc((-13.3862928336, 1.8254772931), (-11.2158924436, 7.5318629748), (-6.7550944326, 11.7001667673))
        make_face()
        with BuildLine():
            Line((13.5101888653, 0), (37.9261646969, 0))
            ThreePointArc((37.9261646969, 0), (35.8911179032, 12.2564931476), (30.0043711026, 23.1976654721))
            ThreePointArc((30.0043711026, 23.1976654721), (18.3415893202, 18.3235660606), (8.2740561267, 10.6801310099))
            ThreePointArc((8.2740561267, 10.6801310099), (12.1307308957, 5.9473162949), (13.5101888653, 0))
        make_face()
        with BuildLine():
            ThreePointArc((-18.9630823485, -32.8450220956), (-7.3311245245, -37.2108664482), (5.087582056, -37.5833803355))
            ThreePointArc((5.087582056, -37.5833803355), (6.6978790363, -25.0460653274), (5.112236707, -12.505608303))
            ThreePointArc((5.112236707, -12.505608303), (-0.9148384522, -13.4791792696), (-6.7550944326, -11.7001667673))
            Line((-6.7550944326, -11.7001667673), (-18.9630823485, -32.8450220956))
        make_face()
    extrude(amount=F7_DEPTH, mode=Mode.SUBTRACT)


with BuildPart() as f4:
    # F0 (on Top) → F4 (new body)
    with BuildSketch(Plane.XY):
        with BuildLine():
            ThreePointArc((-9.6237072996, -5.55625), (-10.7338507446, -2.8761266387), (-11.1125, 0))
            Line((-11.1125, 0), (-13.5101888653, 0))
            ThreePointArc((-13.5101888653, 0), (-13.049840343, -3.4966941813), (-11.7001667673, -6.7550944326))
            Line((-11.7001667673, -6.7550944326), (-9.6237072996, -5.55625))
        make_face()
        with BuildLine():
            Line((-13.5101888653, 0), (-11.1125, 0))
            ThreePointArc((-11.1125, 0), (-11.095275899, 0.6184730997), (-11.0436569899, 1.2350289634))
            ThreePointArc((-11.0436569899, 1.2350289634), (-12.2185420326, 1.5161003824), (-13.3862928336, 1.8254772931))
            ThreePointArc((-13.3862928336, 1.8254772931), (-13.4791792696, 0.9148384522), (-13.5101888653, 0))
        make_face()
        with BuildLine():
            Line((-5.55625, 9.6237072996), (-6.7550944326, 11.7001667673))
            ThreePointArc((-6.7550944326, 11.7001667673), (-11.2158924436, 7.5318629748), (-13.3862928336, 1.8254772931))
            ThreePointArc((-13.3862928336, 1.8254772931), (-12.2185420326, 1.5161003824), (-11.0436569899, 1.2350289634))
            ThreePointArc((-11.0436569899, 1.2350289634), (-9.2995542407, 6.0832513654), (-5.55625, 9.6237072996))
        make_face()
        with BuildLine():
            Line((5.55625, 9.6237072996), (6.7550944326, 11.7001667673))
            ThreePointArc((6.7550944326, 11.7001667673), (0, 13.5101888653), (-6.7550944326, 11.7001667673))
            Line((-6.7550944326, 11.7001667673), (-5.55625, 9.6237072996))
            ThreePointArc((-5.55625, 9.6237072996), (0, 11.1125), (5.55625, 9.6237072996))
        make_face()
        with BuildLine():
            ThreePointArc((6.5913949516, 8.9465730222), (7.4222524621, 9.8235176062), (8.2740561267, 10.6801310099))
            ThreePointArc((8.2740561267, 10.6801310099), (7.5318629748, 11.2158924436), (6.7550944326, 11.7001667673))
            Line((6.7550944326, 11.7001667673), (5.55625, 9.6237072996))
            ThreePointArc((5.55625, 9.6237072996), (6.0832513654, 9.2995542407), (6.5913949516, 8.9465730222))
        make_face()
        with BuildLine():
            Line((11.1125, 0), (13.5101888653, 0))
            ThreePointArc((13.5101888653, 0), (12.1307308957, 5.9473162949), (8.2740561267, 10.6801310099))
            ThreePointArc((8.2740561267, 10.6801310099), (7.4222524621, 9.8235176062), (6.5913949516, 8.9465730222))
            ThreePointArc((6.5913949516, 8.9465730222), (9.9180273404, 5.0120245336), (11.1125, 0))
        make_face()
        with BuildLine():
            ThreePointArc((11.7001667673, -6.7550944326), (13.049840343, -3.4966941813), (13.5101888653, 0))
            Line((13.5101888653, 0), (11.1125, 0))
            ThreePointArc((11.1125, 0), (10.7338507446, -2.8761266387), (9.6237072996, -5.55625))
            Line((9.6237072996, -5.55625), (11.7001667673, -6.7550944326))
        make_face()
        with BuildLine():
            ThreePointArc((5.112236707, -12.505608303), (5.9473162949, -12.1307308957), (6.7550944326, -11.7001667673))
            Line((6.7550944326, -11.7001667673), (5.55625, -9.6237072996))
            ThreePointArc((5.55625, -9.6237072996), (5.0120245336, -9.9180273404), (4.4522620383, -10.1816019856))
            ThreePointArc((4.4522620383, -10.1816019856), (4.7962895705, -11.3396179886), (5.112236707, -12.505608303))
        make_face()
        with BuildLine():
            Line((5.55625, -9.6237072996), (6.7550944326, -11.7001667673))
            ThreePointArc((6.7550944326, -11.7001667673), (9.5531461618, -9.5531461618), (11.7001667673, -6.7550944326))
            Line((11.7001667673, -6.7550944326), (9.6237072996, -5.55625))
            ThreePointArc((9.6237072996, -5.55625), (7.8577241059, -7.8577241059), (5.55625, -9.6237072996))
        make_face()
        with BuildLine():
            ThreePointArc((-6.7550944326, -11.7001667673), (-0.9148384522, -13.4791792696), (5.112236707, -12.505608303))
            ThreePointArc((5.112236707, -12.505608303), (4.7962895705, -11.3396179886), (4.4522620383, -10.1816019856))
            ThreePointArc((4.4522620383, -10.1816019856), (-0.6184730997, -11.095275899), (-5.55625, -9.6237072996))
            Line((-5.55625, -9.6237072996), (-6.7550944326, -11.7001667673))
        make_face()
        with BuildLine():
            ThreePointArc((-11.7001667673, -6.7550944326), (-9.5531461618, -9.5531461618), (-6.7550944326, -11.7001667673))
            Line((-6.7550944326, -11.7001667673), (-5.55625, -9.6237072996))
            ThreePointArc((-5.55625, -9.6237072996), (-7.8577241059, -7.8577241059), (-9.6237072996, -5.55625))
            Line((-9.6237072996, -5.55625), (-11.7001667673, -6.7550944326))
        make_face()
    extrude(amount=F4_DEPTH)


solid = Compound([f1.part, f4.part])
